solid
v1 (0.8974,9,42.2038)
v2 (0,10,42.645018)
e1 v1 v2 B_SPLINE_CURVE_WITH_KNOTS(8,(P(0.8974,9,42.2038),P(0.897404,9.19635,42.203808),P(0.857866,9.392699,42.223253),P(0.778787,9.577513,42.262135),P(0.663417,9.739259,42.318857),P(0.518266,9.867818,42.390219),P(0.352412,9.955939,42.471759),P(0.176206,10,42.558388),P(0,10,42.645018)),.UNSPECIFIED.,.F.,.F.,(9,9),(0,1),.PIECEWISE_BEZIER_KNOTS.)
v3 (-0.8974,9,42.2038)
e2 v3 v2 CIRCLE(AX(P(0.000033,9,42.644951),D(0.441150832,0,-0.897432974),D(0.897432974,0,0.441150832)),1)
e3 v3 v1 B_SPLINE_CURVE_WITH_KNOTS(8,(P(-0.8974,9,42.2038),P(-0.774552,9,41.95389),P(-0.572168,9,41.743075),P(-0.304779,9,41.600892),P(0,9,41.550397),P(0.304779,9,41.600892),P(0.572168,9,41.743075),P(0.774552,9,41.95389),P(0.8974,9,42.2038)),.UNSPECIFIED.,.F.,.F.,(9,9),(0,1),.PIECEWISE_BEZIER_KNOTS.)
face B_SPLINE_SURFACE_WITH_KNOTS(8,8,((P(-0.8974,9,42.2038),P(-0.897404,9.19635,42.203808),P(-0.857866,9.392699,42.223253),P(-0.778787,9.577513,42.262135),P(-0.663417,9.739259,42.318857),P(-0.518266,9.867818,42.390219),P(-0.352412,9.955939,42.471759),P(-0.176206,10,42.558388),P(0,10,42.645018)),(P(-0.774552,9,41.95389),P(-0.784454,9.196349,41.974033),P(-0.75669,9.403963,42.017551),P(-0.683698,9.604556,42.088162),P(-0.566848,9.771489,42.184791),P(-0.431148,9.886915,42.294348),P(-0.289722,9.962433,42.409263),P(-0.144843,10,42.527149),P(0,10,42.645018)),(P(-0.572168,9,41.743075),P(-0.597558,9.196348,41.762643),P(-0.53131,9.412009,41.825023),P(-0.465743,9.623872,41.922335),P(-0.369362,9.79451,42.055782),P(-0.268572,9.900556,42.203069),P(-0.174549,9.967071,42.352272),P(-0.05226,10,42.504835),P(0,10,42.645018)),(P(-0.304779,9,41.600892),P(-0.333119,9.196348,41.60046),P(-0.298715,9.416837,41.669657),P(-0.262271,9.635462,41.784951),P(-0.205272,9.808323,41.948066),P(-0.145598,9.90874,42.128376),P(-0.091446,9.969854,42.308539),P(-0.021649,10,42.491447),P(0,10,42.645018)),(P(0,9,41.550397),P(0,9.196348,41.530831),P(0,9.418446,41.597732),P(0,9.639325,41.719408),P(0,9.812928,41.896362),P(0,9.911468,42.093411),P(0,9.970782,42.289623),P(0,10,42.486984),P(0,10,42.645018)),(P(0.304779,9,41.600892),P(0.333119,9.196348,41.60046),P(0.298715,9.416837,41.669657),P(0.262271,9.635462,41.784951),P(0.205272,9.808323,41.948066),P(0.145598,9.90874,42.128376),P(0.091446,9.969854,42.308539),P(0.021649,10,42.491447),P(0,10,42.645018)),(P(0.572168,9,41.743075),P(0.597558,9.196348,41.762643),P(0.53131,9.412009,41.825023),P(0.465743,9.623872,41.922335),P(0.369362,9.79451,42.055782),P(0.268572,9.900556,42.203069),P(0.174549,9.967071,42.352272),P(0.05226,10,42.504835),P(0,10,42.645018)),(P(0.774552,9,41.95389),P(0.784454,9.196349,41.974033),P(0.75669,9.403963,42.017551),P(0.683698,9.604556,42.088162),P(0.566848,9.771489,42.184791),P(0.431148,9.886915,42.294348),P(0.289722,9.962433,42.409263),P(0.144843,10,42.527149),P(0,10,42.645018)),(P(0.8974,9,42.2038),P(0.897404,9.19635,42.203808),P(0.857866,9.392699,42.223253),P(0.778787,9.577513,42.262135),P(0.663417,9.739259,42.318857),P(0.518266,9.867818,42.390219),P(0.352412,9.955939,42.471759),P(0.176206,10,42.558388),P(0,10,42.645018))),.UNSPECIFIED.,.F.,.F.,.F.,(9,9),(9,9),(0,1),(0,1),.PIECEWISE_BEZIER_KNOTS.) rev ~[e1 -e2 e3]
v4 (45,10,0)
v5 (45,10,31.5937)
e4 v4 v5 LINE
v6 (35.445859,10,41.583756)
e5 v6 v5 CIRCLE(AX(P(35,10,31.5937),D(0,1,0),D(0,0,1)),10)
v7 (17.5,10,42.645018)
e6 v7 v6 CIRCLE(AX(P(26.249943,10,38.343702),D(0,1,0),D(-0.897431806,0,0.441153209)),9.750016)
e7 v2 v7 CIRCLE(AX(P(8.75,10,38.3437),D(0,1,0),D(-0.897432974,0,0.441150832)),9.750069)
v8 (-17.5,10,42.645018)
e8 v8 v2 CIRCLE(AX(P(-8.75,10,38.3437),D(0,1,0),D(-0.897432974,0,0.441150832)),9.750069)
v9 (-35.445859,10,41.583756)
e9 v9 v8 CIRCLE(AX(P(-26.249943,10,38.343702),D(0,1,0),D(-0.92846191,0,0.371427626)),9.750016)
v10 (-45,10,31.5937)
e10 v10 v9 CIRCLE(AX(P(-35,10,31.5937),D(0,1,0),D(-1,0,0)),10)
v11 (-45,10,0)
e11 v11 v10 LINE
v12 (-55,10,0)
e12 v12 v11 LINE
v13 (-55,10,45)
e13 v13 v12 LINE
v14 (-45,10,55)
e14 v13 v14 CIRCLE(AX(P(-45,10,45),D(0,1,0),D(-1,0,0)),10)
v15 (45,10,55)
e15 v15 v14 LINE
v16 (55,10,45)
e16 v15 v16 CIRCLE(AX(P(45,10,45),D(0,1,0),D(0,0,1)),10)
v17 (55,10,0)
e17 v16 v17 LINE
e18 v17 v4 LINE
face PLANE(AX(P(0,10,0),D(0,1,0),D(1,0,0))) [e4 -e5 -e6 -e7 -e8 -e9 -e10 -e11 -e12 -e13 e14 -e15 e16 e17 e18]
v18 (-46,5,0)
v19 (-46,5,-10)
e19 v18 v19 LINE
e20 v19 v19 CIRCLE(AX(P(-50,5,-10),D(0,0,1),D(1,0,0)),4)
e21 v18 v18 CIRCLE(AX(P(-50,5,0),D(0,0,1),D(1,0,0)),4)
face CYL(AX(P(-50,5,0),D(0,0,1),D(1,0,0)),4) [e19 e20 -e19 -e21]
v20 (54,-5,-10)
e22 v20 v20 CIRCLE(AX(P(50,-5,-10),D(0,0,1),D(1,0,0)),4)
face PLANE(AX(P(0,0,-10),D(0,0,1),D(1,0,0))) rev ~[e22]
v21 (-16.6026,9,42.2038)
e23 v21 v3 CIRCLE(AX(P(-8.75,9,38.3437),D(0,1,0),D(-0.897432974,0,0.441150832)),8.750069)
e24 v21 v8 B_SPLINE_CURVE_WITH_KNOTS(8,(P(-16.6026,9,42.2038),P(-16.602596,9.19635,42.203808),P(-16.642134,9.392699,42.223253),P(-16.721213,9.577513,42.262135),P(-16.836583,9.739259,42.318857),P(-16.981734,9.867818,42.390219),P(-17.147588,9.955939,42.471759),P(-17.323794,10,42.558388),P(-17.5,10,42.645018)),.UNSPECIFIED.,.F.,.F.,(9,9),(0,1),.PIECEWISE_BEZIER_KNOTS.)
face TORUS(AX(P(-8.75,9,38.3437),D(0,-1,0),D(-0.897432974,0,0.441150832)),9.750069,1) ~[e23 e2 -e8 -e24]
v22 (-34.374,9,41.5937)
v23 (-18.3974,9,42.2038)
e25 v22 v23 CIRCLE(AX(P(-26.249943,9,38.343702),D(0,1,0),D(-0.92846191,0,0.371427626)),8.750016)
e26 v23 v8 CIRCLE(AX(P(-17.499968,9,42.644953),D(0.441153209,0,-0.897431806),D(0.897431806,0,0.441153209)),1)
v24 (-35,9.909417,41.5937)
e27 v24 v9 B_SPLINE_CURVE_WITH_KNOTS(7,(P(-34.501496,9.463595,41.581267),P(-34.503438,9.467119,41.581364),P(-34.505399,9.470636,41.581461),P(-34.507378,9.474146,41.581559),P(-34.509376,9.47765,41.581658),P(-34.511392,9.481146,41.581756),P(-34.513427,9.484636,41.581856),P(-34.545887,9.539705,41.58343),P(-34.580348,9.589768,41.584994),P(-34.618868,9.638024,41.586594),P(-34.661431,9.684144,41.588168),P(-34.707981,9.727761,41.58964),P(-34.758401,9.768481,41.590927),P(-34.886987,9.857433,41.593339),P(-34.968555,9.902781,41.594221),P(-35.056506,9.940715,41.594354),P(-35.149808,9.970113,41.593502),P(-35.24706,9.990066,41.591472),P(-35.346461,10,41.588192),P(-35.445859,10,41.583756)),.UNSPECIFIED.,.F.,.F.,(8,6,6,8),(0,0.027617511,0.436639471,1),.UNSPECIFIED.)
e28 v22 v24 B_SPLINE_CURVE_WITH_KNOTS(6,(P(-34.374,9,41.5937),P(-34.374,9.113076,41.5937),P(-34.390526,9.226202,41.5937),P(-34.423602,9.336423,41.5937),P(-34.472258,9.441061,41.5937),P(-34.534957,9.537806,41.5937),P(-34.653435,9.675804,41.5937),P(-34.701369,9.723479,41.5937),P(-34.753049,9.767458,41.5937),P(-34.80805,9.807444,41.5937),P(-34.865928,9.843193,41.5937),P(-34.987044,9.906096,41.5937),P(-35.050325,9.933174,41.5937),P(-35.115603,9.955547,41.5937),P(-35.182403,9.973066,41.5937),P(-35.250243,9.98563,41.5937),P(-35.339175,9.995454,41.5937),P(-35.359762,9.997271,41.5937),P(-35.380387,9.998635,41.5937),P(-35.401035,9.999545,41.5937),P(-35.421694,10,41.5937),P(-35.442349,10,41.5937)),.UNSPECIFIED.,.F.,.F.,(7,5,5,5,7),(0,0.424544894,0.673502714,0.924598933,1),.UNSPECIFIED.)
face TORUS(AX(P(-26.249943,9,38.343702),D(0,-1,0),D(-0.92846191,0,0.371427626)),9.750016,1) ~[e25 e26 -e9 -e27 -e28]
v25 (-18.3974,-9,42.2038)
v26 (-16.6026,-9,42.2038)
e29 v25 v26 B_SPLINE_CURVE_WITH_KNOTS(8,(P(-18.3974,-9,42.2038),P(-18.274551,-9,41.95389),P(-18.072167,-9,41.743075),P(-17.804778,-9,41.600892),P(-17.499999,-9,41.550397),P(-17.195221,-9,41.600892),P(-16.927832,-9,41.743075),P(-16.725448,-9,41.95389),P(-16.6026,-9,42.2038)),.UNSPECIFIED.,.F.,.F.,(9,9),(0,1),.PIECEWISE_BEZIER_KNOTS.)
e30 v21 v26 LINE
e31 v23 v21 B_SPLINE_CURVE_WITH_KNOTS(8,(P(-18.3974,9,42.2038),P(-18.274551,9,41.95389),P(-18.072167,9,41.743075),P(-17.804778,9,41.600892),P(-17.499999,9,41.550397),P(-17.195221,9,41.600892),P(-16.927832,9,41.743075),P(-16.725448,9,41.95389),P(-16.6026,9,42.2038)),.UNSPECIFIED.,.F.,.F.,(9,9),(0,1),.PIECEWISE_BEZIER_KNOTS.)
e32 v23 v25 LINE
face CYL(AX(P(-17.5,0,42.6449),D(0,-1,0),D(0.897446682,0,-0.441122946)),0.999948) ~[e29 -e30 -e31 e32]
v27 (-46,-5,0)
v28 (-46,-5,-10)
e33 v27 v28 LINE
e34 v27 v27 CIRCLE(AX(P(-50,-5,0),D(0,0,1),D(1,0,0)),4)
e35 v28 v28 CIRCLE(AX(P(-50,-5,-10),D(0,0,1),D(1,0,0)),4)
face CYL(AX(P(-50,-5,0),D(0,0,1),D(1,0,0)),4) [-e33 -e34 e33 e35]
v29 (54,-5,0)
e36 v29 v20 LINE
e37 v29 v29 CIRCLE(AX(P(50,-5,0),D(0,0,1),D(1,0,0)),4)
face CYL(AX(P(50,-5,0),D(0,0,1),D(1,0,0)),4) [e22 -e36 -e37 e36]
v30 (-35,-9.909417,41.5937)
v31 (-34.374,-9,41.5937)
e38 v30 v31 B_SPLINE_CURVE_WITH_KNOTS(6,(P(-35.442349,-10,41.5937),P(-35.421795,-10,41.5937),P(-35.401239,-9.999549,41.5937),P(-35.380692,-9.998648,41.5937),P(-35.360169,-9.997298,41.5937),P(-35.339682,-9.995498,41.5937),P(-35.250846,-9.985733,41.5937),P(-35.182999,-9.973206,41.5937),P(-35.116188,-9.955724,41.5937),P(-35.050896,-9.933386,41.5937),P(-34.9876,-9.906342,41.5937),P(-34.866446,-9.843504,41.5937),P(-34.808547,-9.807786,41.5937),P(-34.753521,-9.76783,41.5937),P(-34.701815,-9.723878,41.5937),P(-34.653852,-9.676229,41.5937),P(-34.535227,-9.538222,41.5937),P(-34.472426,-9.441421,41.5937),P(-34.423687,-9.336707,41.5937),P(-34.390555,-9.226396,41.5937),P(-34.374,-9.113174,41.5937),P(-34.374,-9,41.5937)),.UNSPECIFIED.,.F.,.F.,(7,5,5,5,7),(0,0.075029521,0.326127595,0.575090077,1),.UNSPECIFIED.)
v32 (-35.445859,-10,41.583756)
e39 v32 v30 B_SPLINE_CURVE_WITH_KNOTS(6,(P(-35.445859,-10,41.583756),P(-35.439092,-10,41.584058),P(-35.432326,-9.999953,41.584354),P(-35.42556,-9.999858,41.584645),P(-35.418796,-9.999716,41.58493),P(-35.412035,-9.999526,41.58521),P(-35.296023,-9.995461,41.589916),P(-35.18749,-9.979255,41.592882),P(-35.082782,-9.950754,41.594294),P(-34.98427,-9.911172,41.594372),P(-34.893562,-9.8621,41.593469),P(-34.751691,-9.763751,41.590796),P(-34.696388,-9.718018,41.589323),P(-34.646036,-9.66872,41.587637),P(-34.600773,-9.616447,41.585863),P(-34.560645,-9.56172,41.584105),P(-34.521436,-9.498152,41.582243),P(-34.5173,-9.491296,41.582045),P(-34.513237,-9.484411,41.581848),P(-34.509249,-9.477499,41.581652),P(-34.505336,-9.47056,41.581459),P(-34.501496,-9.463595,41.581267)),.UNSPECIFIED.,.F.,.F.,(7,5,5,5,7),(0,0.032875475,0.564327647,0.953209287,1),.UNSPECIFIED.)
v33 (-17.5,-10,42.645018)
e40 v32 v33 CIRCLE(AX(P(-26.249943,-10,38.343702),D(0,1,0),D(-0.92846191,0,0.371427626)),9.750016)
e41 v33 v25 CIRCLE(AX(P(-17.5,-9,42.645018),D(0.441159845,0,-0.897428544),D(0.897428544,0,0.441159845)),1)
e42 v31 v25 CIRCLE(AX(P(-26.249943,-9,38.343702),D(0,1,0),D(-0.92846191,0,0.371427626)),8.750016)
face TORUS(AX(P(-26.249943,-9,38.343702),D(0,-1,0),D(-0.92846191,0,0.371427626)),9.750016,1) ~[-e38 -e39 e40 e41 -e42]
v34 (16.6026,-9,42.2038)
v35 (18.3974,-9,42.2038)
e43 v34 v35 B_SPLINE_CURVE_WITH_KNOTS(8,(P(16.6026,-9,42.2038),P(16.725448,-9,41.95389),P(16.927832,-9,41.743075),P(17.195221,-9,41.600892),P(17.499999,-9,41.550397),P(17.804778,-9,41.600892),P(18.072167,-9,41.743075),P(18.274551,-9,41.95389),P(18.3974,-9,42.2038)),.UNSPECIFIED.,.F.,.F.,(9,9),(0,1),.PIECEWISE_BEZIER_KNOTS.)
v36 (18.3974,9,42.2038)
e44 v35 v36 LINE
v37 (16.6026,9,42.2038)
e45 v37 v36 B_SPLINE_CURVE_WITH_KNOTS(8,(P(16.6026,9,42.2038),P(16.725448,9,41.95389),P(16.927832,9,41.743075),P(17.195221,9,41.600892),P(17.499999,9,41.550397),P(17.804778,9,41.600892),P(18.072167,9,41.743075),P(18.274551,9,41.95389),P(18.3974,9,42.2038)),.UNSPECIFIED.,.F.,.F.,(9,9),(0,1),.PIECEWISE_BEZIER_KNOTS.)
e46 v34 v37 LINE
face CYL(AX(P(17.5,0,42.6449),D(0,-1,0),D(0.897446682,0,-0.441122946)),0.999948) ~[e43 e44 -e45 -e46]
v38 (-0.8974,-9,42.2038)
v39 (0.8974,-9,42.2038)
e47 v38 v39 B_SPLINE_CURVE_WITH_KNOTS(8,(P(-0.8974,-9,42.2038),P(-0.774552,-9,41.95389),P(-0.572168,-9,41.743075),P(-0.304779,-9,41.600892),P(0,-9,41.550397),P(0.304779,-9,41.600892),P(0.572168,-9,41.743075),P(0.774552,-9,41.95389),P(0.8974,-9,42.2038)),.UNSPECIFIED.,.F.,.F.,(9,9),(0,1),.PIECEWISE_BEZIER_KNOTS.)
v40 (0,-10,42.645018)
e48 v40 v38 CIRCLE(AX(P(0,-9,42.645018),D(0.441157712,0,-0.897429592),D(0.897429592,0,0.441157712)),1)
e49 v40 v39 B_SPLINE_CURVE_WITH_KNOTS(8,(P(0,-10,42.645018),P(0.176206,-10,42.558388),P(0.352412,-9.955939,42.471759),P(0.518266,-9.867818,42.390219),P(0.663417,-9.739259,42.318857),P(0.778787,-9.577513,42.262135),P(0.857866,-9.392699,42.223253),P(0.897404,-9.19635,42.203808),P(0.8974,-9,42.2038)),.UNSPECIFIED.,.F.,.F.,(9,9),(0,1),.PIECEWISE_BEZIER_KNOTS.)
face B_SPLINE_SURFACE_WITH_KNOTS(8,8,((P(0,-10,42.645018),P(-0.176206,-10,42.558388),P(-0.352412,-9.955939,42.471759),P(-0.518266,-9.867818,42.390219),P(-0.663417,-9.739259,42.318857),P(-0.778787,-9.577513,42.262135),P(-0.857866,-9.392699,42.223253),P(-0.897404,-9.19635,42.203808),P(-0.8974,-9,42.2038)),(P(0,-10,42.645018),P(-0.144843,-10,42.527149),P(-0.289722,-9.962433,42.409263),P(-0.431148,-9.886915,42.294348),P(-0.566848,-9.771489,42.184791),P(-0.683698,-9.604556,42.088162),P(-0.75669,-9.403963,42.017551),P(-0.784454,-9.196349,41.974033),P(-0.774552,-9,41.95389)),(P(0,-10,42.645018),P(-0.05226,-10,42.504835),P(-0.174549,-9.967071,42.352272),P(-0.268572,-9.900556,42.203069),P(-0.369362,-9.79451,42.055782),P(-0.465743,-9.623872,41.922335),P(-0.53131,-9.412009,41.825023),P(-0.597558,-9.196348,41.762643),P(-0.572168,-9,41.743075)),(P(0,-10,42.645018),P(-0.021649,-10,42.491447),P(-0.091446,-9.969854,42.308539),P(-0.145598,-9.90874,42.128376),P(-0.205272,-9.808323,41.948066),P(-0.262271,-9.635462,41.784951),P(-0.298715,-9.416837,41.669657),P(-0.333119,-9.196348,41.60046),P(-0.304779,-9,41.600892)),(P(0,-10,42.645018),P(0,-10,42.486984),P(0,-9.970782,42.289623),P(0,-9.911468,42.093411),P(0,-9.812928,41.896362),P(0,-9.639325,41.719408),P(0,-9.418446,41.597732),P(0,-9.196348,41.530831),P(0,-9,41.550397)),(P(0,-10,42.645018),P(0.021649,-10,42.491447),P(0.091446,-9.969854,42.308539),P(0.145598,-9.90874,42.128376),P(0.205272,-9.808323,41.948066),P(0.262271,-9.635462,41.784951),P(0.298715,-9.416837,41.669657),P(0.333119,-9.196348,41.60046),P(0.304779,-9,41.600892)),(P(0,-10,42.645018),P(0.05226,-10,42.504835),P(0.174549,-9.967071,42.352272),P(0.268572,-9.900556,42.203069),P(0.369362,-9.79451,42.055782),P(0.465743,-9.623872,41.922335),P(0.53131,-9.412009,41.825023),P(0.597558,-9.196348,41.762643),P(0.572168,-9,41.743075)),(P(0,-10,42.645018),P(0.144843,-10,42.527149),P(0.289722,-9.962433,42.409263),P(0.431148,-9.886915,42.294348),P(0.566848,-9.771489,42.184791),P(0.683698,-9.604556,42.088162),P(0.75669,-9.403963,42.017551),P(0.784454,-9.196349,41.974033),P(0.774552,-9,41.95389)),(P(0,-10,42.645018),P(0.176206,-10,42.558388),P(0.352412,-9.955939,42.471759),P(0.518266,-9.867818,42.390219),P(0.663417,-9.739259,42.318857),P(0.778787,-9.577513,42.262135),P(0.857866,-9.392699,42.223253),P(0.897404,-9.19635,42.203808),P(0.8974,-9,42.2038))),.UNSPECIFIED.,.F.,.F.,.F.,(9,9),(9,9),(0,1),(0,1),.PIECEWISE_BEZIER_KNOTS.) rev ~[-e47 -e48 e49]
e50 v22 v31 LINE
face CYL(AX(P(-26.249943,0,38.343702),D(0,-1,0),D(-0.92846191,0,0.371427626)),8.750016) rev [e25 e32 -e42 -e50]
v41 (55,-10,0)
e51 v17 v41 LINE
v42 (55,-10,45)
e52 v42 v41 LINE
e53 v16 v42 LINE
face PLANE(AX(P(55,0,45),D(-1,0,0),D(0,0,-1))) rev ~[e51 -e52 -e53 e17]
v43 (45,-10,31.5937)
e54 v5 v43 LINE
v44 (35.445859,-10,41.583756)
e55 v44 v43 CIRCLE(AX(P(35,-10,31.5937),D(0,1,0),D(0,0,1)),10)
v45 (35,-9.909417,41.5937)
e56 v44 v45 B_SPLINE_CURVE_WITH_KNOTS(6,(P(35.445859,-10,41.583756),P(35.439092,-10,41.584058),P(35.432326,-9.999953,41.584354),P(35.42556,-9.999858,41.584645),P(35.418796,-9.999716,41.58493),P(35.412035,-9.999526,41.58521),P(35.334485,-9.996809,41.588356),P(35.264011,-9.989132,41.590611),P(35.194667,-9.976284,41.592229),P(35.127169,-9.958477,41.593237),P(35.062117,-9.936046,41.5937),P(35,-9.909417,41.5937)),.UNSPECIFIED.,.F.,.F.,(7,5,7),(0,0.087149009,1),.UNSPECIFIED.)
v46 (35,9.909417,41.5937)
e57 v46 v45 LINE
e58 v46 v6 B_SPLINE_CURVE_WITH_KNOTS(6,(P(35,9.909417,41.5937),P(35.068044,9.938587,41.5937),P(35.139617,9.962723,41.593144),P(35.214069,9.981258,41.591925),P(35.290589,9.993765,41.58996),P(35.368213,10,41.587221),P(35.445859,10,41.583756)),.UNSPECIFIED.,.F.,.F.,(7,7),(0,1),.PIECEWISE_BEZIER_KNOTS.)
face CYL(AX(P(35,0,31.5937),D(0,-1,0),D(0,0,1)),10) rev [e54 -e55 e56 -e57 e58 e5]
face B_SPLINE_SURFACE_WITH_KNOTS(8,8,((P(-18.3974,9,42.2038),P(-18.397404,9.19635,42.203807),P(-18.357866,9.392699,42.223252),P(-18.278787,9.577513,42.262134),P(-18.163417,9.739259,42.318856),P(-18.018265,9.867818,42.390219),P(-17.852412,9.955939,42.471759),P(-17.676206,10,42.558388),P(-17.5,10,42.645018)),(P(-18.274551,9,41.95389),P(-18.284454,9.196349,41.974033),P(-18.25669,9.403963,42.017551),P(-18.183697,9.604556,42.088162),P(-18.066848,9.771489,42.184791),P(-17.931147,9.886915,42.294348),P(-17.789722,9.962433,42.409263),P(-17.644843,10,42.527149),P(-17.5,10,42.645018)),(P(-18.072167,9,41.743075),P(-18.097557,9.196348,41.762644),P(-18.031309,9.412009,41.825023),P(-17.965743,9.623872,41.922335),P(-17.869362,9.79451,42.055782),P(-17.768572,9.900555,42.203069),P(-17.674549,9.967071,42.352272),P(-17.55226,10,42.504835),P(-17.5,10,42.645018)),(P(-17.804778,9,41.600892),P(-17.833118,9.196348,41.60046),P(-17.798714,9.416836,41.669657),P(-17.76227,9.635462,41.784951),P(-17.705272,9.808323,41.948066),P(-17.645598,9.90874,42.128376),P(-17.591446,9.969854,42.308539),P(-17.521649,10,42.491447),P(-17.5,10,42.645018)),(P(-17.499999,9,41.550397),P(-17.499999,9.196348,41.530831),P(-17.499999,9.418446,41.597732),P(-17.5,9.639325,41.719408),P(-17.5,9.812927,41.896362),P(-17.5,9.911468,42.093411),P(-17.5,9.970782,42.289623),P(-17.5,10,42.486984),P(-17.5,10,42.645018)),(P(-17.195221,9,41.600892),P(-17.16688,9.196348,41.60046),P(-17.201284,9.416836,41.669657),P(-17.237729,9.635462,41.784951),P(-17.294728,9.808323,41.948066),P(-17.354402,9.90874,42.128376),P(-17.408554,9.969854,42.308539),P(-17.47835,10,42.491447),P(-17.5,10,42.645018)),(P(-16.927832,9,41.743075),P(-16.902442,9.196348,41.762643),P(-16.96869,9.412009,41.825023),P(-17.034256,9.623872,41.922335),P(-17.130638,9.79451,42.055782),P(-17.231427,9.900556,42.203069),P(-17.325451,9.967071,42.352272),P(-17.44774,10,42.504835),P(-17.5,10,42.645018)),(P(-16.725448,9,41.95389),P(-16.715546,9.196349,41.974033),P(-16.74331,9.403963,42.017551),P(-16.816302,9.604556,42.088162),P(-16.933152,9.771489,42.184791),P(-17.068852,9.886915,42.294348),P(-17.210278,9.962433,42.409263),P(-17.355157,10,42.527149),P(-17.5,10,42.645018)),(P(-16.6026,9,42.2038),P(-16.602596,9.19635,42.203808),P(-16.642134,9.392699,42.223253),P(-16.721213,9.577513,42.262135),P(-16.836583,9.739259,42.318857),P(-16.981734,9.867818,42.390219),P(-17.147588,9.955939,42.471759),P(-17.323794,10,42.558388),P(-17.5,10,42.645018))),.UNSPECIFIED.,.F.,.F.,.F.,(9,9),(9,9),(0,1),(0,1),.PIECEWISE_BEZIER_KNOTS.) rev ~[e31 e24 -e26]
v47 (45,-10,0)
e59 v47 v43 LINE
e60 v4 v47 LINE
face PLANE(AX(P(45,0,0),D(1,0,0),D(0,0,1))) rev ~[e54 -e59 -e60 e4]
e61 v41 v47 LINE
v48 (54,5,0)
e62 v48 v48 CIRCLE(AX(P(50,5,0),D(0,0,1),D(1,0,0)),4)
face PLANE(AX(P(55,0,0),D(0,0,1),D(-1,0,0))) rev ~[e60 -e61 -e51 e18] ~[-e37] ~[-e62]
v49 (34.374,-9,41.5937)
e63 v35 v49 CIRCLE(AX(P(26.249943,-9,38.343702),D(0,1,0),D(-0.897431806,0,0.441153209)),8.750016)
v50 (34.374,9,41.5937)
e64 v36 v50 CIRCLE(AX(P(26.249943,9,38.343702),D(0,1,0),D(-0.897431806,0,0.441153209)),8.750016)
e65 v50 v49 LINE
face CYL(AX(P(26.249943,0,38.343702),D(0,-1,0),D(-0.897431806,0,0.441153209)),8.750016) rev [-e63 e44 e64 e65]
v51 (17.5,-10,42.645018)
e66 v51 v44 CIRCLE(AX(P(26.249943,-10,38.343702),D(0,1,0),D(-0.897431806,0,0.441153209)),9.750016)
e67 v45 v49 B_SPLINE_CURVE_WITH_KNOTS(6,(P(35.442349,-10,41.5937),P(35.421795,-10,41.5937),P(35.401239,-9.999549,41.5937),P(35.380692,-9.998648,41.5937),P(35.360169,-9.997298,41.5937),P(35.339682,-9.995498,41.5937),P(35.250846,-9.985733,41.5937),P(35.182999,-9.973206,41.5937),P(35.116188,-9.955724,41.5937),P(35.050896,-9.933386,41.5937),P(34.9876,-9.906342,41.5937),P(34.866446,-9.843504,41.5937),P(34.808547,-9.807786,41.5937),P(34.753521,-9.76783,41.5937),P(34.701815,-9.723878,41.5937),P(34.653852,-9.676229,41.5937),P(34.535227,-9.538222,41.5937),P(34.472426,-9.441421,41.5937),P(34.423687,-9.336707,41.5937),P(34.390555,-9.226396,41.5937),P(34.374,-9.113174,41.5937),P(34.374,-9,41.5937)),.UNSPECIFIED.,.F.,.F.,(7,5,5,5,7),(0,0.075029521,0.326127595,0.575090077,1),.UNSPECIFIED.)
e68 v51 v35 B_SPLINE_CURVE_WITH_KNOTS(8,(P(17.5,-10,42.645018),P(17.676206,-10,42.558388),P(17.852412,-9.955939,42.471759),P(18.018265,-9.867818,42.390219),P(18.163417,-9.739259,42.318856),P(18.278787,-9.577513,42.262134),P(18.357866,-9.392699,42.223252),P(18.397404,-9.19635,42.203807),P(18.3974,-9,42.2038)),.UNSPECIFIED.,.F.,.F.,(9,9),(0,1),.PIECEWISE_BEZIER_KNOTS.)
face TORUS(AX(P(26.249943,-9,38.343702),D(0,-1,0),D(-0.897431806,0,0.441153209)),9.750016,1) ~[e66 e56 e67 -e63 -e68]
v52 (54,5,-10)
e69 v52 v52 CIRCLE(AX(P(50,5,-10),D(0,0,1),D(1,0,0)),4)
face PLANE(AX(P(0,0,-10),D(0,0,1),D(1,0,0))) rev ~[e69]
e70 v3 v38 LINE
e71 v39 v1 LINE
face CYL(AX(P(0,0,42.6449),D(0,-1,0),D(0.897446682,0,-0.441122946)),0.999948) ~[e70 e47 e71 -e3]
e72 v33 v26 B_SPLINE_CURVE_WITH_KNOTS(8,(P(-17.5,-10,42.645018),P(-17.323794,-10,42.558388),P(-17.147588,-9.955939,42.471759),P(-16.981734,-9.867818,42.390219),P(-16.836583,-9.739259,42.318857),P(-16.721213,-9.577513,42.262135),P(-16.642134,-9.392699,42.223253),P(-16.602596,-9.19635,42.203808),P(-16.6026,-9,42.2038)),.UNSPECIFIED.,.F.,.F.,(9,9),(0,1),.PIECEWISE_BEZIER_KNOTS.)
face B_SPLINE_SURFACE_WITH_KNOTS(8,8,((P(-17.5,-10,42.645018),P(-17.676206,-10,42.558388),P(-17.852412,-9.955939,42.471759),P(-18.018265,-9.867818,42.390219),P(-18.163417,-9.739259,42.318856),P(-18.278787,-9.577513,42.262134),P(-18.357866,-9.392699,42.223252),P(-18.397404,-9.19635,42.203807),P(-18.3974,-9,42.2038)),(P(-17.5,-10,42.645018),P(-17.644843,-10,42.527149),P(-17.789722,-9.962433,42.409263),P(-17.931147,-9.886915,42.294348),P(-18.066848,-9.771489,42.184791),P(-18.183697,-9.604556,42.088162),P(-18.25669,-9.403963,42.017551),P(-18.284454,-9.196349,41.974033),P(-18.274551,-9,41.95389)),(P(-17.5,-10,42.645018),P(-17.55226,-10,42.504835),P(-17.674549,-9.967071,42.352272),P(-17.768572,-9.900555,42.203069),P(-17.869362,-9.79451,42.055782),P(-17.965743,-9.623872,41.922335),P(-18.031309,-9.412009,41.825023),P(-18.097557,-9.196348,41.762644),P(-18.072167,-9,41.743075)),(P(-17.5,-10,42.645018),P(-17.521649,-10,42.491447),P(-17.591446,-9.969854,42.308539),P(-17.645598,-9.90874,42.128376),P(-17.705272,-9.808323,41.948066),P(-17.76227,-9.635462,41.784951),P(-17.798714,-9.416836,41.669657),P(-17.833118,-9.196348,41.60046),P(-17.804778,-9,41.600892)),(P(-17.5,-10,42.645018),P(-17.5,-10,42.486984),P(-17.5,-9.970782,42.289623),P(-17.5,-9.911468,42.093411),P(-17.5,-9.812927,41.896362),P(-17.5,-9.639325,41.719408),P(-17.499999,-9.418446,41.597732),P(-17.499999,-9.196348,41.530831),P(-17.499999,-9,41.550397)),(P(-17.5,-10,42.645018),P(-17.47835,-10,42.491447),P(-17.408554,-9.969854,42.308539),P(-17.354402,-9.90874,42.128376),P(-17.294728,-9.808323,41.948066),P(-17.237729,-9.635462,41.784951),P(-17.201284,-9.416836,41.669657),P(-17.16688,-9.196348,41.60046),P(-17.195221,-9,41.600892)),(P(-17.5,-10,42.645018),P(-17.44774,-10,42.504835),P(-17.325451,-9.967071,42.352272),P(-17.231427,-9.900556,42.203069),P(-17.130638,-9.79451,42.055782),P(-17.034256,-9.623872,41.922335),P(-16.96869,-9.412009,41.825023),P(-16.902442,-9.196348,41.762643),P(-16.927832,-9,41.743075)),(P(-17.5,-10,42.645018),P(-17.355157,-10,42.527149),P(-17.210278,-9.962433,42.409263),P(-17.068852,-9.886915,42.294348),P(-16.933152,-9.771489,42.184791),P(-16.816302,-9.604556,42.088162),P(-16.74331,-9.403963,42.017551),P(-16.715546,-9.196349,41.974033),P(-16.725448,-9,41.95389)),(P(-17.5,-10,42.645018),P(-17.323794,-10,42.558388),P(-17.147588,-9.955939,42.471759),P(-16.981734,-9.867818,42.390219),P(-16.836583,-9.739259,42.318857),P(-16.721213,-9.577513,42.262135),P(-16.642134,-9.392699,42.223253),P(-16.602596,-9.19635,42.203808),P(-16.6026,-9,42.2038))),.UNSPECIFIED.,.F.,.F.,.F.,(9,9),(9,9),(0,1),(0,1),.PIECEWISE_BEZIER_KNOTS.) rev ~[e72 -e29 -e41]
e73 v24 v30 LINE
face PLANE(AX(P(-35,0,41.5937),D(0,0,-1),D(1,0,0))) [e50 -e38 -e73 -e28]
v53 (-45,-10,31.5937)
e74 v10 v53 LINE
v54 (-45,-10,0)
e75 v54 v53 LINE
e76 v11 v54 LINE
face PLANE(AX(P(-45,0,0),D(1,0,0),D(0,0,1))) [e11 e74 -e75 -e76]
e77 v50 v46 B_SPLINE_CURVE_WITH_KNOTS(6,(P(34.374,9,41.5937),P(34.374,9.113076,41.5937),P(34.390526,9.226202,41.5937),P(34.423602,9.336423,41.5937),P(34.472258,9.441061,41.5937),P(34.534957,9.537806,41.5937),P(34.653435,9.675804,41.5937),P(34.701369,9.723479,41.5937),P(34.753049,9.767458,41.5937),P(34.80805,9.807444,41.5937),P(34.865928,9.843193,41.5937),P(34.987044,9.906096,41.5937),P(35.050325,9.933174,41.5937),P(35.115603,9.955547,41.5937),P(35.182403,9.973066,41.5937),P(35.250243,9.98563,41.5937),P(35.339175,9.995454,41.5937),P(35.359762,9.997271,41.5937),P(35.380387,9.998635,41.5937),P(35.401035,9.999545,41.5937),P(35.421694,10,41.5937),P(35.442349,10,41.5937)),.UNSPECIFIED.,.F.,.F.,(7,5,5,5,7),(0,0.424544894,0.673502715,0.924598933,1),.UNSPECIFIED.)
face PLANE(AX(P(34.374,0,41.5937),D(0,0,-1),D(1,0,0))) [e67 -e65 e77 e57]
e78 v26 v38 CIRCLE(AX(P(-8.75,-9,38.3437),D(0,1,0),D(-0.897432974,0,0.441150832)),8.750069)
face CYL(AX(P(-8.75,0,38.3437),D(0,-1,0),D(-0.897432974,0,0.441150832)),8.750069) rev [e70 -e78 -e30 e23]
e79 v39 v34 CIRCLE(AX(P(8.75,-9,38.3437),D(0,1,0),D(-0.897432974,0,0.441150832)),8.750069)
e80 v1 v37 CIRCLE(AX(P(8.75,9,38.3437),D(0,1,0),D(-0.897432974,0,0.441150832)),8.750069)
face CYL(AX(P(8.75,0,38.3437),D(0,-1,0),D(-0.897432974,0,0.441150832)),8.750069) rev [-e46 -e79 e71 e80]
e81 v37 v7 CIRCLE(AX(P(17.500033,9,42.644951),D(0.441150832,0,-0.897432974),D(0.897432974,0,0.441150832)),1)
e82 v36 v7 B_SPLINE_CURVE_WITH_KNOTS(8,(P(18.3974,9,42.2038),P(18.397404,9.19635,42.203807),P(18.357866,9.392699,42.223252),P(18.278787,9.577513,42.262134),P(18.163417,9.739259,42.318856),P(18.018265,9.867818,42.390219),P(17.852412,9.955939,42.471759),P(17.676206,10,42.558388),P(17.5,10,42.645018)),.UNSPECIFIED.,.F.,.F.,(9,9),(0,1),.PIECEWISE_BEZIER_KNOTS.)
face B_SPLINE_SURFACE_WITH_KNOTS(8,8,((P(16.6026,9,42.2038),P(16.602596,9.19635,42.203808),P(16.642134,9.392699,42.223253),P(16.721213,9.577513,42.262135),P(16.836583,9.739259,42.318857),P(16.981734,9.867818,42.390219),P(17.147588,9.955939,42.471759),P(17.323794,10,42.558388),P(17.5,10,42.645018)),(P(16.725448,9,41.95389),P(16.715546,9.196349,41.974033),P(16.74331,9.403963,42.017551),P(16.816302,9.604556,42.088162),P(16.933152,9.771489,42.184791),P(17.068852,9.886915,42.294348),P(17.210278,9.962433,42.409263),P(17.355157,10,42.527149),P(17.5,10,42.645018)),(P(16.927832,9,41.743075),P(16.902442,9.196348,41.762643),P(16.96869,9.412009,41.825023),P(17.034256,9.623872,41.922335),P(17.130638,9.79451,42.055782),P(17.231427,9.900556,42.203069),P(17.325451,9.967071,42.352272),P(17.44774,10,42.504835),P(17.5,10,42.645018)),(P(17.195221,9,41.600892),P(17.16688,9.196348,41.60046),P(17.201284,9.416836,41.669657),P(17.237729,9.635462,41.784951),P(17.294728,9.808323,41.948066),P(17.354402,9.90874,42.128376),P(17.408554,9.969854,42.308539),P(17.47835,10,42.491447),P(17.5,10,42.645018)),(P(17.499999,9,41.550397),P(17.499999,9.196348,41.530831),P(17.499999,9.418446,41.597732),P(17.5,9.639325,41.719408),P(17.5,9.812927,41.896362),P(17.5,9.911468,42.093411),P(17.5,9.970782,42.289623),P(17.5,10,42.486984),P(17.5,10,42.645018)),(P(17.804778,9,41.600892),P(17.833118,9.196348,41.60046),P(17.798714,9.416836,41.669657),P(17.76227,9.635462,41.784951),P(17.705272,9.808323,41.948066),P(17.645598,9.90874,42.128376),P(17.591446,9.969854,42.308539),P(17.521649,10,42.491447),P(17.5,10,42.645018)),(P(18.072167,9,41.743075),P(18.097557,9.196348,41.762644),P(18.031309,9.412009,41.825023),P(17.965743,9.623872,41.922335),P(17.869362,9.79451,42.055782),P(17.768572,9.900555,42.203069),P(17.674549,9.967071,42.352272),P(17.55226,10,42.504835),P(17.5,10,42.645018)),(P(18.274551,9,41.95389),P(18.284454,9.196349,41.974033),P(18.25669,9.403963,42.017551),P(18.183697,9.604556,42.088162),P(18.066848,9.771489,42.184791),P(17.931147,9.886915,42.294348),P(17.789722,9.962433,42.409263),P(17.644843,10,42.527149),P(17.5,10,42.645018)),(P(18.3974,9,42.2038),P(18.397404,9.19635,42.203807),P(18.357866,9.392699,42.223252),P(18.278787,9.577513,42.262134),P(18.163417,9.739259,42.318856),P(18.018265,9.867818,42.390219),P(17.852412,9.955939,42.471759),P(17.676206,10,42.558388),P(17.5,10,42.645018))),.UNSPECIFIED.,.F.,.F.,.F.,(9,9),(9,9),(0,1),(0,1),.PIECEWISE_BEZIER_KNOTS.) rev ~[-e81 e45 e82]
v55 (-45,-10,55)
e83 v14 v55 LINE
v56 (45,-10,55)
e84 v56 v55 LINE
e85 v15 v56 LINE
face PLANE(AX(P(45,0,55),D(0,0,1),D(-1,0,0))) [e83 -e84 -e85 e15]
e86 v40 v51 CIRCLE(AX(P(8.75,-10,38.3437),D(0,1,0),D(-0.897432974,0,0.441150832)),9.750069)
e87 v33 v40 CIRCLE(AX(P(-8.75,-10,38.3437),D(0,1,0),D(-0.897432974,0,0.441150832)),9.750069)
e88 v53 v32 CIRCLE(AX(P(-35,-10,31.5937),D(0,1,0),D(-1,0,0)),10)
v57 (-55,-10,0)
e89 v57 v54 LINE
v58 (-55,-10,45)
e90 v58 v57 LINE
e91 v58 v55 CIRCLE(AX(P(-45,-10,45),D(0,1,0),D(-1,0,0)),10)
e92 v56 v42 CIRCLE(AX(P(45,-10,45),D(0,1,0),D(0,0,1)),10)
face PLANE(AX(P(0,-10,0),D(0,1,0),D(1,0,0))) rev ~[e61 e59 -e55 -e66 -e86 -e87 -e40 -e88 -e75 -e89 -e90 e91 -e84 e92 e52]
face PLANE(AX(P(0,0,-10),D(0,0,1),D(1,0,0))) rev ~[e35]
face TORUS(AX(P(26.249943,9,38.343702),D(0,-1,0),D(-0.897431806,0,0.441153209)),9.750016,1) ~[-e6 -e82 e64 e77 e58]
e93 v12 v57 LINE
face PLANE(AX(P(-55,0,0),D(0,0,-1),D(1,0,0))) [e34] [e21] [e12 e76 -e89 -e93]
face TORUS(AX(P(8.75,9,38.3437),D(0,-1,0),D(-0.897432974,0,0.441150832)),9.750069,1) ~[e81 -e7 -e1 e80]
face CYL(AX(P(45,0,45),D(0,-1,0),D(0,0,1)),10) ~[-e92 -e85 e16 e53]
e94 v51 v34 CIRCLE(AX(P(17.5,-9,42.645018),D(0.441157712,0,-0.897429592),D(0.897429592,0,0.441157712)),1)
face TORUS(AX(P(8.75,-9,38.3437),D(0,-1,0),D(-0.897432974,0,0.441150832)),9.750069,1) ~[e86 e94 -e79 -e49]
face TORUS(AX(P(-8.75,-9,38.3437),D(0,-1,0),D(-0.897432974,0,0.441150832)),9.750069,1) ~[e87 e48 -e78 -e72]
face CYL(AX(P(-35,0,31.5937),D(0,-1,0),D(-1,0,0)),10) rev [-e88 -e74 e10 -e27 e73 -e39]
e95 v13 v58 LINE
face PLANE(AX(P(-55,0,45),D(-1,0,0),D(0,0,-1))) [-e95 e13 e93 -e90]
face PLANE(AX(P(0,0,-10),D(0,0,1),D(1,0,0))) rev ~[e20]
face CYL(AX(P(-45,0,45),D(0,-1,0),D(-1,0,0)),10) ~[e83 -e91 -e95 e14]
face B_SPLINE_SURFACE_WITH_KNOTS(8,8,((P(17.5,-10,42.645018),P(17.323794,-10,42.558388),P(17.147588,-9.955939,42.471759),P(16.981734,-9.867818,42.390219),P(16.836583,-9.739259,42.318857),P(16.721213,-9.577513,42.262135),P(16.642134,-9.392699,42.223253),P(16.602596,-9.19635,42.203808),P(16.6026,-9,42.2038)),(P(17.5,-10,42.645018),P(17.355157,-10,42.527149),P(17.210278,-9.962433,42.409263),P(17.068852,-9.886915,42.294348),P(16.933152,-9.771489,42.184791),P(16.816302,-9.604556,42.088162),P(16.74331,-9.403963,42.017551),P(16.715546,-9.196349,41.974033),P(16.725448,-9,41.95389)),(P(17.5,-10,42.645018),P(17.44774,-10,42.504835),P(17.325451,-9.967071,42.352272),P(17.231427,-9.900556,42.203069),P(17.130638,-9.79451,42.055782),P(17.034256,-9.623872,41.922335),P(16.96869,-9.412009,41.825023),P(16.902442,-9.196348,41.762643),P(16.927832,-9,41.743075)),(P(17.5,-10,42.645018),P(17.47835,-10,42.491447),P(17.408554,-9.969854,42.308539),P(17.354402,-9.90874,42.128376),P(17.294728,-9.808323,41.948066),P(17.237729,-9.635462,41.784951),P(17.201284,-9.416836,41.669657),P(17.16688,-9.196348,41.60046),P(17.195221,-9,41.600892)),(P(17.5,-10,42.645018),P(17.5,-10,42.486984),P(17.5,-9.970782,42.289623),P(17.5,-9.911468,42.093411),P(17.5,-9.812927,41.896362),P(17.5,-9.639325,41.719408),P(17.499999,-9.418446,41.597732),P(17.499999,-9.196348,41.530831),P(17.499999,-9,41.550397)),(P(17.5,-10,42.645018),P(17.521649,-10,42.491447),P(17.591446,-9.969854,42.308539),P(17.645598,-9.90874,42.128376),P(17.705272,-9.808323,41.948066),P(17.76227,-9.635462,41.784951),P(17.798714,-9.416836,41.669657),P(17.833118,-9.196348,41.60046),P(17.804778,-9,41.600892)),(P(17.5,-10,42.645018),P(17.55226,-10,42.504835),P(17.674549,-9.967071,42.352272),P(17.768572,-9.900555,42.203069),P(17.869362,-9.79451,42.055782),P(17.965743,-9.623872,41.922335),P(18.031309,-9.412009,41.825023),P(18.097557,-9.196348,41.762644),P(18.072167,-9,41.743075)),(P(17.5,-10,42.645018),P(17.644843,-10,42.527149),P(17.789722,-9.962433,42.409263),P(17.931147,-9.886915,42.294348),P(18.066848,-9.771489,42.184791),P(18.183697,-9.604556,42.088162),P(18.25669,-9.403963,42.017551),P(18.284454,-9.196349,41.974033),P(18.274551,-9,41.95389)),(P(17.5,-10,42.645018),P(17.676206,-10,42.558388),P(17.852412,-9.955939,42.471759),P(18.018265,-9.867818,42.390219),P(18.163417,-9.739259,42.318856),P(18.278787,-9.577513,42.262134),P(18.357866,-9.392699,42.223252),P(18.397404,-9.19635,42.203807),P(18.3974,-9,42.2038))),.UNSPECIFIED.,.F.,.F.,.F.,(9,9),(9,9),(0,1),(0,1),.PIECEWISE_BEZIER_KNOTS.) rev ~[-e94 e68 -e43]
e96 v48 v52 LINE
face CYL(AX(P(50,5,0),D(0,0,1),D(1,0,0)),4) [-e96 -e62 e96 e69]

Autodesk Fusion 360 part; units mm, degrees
sketch "Sketch1" plane through (0, 0, 0) normal (0, 1, 0) x (1, 0, 0)
  line L0 (-26.25, -38.3437) -> (-55, -38.3437) construction
  arc A0 (18.3974, -42.2038) -> (34.374, -41.5937) centre (26.25, -38.3437) ccw
  arc A1 (45, -55) -> (55, -45) centre (45, -45) ccw
  line L1 (34.374, -41.5937) -> (35, -41.5937)
  arc A2 (0.8974, -42.2038) -> (-0.8974, -42.2038) centre (0, -42.6449) ccw
  arc A3 (18.3974, -42.2038) -> (16.6026, -42.2038) centre (17.5, -42.6449) ccw
  arc A4 (-34.374, -41.5937) -> (-18.3974, -42.2038) centre (-26.25, -38.3437) ccw
  arc A5 (-55, -45) -> (-45, -55) centre (-45, -45) ccw
  line L2 (-35, -29.5937) -> (35, -29.5937) construction
  line L3 (45, -45) -> (18.126, -41.5937) construction
  arc A6 (0.8974, -42.2038) -> (16.6026, -42.2038) centre (8.75, -38.3437) ccw
  line L4 (45, -55) -> (-45, -55)
  line L5 (-34.374, -41.5937) -> (-45, -45) construction
  line L6 (26.25, -38.3437) -> (55, -38.3437) construction
  arc A7 (-45, -31.5937) -> (-35, -41.5937) centre (-35, -31.5937) ccw
  line L7 (0, 0) -> (0, -57.946) construction
  arc A8 (-16.6026, -42.2038) -> (-18.3974, -42.2038) centre (-17.5, -42.6449) ccw
  arc A9 (-16.6026, -42.2038) -> (-0.8974, -42.2038) centre (-8.75, -38.3437) ccw
  arc A10 (35, -41.5937) -> (45, -31.5937) centre (35, -31.5937) ccw
  line L8 (-35, -41.5937) -> (-34.374, -41.5937)
  line L9 (-55, -45) -> (-55, 0)
  line L10 (-55, 0) -> (-45, 0)
  line L11 (-45, 0) -> (-45, -31.5937)
  line L12 (55, -45) -> (55, 0)
  line L13 (55, 0) -> (45, 0)
  line L14 (45, 0) -> (45, -31.5937)
  line L15 (55, 0) -> (-55, 0) construction
  dimension "d1" = 10
  dimension "d2" = 10
  dimension "d3" = 10
  dimension "d4" = 17.5
  dimension "d5" = 17.5
  dimension "d6" = 17.5
  dimension "d7" = 17.5
  dimension "d8" = 17.5
  dimension "d9" = 17.5
  dimension "d10" = 17.5
  dimension "d11" = 12
  dimension "d12" = 1
  dimension "d13" = 1
  dimension "d14" = 1
extrude "Extrude1" add sketch "Sketch1" along normal mid plane 20
fillet "Fillet1" radius 1 14 edges at (-26.5838, -10, 47.0874) (-17.5, -10, 41.6449) (-8.75, -10, 47.0937) (0, -10, 41.6449) (8.75, -10, 47.0937) (17.5, -10, 41.6449) (26.5838, -10, 47.0874) (26.5838, 10, 47.0874) (17.5, 10, 41.6449) (8.75, 10, 47.0937) (0, 10, 41.6449) (-8.75, 10, 47.0937) (-17.5, 10, 41.6449) (-26.5838, 10, 47.0874)
sketch "Sketch2" plane through (0, 0, 0) normal (0, 0, 1) x (1, 0, 0)
  circle A0 centre (-50, -5) radius 4
  circle A1 centre (-50, 5) radius 4
  circle A2 centre (50, -5) radius 4
  circle A3 centre (50, 5) radius 4
  dimension "d18" = 8
  dimension "d19" = 8
  dimension "d20" = 8
  dimension "d21" = 8
extrude "Extrude2" add sketch "Sketch2" against normal blind 10
